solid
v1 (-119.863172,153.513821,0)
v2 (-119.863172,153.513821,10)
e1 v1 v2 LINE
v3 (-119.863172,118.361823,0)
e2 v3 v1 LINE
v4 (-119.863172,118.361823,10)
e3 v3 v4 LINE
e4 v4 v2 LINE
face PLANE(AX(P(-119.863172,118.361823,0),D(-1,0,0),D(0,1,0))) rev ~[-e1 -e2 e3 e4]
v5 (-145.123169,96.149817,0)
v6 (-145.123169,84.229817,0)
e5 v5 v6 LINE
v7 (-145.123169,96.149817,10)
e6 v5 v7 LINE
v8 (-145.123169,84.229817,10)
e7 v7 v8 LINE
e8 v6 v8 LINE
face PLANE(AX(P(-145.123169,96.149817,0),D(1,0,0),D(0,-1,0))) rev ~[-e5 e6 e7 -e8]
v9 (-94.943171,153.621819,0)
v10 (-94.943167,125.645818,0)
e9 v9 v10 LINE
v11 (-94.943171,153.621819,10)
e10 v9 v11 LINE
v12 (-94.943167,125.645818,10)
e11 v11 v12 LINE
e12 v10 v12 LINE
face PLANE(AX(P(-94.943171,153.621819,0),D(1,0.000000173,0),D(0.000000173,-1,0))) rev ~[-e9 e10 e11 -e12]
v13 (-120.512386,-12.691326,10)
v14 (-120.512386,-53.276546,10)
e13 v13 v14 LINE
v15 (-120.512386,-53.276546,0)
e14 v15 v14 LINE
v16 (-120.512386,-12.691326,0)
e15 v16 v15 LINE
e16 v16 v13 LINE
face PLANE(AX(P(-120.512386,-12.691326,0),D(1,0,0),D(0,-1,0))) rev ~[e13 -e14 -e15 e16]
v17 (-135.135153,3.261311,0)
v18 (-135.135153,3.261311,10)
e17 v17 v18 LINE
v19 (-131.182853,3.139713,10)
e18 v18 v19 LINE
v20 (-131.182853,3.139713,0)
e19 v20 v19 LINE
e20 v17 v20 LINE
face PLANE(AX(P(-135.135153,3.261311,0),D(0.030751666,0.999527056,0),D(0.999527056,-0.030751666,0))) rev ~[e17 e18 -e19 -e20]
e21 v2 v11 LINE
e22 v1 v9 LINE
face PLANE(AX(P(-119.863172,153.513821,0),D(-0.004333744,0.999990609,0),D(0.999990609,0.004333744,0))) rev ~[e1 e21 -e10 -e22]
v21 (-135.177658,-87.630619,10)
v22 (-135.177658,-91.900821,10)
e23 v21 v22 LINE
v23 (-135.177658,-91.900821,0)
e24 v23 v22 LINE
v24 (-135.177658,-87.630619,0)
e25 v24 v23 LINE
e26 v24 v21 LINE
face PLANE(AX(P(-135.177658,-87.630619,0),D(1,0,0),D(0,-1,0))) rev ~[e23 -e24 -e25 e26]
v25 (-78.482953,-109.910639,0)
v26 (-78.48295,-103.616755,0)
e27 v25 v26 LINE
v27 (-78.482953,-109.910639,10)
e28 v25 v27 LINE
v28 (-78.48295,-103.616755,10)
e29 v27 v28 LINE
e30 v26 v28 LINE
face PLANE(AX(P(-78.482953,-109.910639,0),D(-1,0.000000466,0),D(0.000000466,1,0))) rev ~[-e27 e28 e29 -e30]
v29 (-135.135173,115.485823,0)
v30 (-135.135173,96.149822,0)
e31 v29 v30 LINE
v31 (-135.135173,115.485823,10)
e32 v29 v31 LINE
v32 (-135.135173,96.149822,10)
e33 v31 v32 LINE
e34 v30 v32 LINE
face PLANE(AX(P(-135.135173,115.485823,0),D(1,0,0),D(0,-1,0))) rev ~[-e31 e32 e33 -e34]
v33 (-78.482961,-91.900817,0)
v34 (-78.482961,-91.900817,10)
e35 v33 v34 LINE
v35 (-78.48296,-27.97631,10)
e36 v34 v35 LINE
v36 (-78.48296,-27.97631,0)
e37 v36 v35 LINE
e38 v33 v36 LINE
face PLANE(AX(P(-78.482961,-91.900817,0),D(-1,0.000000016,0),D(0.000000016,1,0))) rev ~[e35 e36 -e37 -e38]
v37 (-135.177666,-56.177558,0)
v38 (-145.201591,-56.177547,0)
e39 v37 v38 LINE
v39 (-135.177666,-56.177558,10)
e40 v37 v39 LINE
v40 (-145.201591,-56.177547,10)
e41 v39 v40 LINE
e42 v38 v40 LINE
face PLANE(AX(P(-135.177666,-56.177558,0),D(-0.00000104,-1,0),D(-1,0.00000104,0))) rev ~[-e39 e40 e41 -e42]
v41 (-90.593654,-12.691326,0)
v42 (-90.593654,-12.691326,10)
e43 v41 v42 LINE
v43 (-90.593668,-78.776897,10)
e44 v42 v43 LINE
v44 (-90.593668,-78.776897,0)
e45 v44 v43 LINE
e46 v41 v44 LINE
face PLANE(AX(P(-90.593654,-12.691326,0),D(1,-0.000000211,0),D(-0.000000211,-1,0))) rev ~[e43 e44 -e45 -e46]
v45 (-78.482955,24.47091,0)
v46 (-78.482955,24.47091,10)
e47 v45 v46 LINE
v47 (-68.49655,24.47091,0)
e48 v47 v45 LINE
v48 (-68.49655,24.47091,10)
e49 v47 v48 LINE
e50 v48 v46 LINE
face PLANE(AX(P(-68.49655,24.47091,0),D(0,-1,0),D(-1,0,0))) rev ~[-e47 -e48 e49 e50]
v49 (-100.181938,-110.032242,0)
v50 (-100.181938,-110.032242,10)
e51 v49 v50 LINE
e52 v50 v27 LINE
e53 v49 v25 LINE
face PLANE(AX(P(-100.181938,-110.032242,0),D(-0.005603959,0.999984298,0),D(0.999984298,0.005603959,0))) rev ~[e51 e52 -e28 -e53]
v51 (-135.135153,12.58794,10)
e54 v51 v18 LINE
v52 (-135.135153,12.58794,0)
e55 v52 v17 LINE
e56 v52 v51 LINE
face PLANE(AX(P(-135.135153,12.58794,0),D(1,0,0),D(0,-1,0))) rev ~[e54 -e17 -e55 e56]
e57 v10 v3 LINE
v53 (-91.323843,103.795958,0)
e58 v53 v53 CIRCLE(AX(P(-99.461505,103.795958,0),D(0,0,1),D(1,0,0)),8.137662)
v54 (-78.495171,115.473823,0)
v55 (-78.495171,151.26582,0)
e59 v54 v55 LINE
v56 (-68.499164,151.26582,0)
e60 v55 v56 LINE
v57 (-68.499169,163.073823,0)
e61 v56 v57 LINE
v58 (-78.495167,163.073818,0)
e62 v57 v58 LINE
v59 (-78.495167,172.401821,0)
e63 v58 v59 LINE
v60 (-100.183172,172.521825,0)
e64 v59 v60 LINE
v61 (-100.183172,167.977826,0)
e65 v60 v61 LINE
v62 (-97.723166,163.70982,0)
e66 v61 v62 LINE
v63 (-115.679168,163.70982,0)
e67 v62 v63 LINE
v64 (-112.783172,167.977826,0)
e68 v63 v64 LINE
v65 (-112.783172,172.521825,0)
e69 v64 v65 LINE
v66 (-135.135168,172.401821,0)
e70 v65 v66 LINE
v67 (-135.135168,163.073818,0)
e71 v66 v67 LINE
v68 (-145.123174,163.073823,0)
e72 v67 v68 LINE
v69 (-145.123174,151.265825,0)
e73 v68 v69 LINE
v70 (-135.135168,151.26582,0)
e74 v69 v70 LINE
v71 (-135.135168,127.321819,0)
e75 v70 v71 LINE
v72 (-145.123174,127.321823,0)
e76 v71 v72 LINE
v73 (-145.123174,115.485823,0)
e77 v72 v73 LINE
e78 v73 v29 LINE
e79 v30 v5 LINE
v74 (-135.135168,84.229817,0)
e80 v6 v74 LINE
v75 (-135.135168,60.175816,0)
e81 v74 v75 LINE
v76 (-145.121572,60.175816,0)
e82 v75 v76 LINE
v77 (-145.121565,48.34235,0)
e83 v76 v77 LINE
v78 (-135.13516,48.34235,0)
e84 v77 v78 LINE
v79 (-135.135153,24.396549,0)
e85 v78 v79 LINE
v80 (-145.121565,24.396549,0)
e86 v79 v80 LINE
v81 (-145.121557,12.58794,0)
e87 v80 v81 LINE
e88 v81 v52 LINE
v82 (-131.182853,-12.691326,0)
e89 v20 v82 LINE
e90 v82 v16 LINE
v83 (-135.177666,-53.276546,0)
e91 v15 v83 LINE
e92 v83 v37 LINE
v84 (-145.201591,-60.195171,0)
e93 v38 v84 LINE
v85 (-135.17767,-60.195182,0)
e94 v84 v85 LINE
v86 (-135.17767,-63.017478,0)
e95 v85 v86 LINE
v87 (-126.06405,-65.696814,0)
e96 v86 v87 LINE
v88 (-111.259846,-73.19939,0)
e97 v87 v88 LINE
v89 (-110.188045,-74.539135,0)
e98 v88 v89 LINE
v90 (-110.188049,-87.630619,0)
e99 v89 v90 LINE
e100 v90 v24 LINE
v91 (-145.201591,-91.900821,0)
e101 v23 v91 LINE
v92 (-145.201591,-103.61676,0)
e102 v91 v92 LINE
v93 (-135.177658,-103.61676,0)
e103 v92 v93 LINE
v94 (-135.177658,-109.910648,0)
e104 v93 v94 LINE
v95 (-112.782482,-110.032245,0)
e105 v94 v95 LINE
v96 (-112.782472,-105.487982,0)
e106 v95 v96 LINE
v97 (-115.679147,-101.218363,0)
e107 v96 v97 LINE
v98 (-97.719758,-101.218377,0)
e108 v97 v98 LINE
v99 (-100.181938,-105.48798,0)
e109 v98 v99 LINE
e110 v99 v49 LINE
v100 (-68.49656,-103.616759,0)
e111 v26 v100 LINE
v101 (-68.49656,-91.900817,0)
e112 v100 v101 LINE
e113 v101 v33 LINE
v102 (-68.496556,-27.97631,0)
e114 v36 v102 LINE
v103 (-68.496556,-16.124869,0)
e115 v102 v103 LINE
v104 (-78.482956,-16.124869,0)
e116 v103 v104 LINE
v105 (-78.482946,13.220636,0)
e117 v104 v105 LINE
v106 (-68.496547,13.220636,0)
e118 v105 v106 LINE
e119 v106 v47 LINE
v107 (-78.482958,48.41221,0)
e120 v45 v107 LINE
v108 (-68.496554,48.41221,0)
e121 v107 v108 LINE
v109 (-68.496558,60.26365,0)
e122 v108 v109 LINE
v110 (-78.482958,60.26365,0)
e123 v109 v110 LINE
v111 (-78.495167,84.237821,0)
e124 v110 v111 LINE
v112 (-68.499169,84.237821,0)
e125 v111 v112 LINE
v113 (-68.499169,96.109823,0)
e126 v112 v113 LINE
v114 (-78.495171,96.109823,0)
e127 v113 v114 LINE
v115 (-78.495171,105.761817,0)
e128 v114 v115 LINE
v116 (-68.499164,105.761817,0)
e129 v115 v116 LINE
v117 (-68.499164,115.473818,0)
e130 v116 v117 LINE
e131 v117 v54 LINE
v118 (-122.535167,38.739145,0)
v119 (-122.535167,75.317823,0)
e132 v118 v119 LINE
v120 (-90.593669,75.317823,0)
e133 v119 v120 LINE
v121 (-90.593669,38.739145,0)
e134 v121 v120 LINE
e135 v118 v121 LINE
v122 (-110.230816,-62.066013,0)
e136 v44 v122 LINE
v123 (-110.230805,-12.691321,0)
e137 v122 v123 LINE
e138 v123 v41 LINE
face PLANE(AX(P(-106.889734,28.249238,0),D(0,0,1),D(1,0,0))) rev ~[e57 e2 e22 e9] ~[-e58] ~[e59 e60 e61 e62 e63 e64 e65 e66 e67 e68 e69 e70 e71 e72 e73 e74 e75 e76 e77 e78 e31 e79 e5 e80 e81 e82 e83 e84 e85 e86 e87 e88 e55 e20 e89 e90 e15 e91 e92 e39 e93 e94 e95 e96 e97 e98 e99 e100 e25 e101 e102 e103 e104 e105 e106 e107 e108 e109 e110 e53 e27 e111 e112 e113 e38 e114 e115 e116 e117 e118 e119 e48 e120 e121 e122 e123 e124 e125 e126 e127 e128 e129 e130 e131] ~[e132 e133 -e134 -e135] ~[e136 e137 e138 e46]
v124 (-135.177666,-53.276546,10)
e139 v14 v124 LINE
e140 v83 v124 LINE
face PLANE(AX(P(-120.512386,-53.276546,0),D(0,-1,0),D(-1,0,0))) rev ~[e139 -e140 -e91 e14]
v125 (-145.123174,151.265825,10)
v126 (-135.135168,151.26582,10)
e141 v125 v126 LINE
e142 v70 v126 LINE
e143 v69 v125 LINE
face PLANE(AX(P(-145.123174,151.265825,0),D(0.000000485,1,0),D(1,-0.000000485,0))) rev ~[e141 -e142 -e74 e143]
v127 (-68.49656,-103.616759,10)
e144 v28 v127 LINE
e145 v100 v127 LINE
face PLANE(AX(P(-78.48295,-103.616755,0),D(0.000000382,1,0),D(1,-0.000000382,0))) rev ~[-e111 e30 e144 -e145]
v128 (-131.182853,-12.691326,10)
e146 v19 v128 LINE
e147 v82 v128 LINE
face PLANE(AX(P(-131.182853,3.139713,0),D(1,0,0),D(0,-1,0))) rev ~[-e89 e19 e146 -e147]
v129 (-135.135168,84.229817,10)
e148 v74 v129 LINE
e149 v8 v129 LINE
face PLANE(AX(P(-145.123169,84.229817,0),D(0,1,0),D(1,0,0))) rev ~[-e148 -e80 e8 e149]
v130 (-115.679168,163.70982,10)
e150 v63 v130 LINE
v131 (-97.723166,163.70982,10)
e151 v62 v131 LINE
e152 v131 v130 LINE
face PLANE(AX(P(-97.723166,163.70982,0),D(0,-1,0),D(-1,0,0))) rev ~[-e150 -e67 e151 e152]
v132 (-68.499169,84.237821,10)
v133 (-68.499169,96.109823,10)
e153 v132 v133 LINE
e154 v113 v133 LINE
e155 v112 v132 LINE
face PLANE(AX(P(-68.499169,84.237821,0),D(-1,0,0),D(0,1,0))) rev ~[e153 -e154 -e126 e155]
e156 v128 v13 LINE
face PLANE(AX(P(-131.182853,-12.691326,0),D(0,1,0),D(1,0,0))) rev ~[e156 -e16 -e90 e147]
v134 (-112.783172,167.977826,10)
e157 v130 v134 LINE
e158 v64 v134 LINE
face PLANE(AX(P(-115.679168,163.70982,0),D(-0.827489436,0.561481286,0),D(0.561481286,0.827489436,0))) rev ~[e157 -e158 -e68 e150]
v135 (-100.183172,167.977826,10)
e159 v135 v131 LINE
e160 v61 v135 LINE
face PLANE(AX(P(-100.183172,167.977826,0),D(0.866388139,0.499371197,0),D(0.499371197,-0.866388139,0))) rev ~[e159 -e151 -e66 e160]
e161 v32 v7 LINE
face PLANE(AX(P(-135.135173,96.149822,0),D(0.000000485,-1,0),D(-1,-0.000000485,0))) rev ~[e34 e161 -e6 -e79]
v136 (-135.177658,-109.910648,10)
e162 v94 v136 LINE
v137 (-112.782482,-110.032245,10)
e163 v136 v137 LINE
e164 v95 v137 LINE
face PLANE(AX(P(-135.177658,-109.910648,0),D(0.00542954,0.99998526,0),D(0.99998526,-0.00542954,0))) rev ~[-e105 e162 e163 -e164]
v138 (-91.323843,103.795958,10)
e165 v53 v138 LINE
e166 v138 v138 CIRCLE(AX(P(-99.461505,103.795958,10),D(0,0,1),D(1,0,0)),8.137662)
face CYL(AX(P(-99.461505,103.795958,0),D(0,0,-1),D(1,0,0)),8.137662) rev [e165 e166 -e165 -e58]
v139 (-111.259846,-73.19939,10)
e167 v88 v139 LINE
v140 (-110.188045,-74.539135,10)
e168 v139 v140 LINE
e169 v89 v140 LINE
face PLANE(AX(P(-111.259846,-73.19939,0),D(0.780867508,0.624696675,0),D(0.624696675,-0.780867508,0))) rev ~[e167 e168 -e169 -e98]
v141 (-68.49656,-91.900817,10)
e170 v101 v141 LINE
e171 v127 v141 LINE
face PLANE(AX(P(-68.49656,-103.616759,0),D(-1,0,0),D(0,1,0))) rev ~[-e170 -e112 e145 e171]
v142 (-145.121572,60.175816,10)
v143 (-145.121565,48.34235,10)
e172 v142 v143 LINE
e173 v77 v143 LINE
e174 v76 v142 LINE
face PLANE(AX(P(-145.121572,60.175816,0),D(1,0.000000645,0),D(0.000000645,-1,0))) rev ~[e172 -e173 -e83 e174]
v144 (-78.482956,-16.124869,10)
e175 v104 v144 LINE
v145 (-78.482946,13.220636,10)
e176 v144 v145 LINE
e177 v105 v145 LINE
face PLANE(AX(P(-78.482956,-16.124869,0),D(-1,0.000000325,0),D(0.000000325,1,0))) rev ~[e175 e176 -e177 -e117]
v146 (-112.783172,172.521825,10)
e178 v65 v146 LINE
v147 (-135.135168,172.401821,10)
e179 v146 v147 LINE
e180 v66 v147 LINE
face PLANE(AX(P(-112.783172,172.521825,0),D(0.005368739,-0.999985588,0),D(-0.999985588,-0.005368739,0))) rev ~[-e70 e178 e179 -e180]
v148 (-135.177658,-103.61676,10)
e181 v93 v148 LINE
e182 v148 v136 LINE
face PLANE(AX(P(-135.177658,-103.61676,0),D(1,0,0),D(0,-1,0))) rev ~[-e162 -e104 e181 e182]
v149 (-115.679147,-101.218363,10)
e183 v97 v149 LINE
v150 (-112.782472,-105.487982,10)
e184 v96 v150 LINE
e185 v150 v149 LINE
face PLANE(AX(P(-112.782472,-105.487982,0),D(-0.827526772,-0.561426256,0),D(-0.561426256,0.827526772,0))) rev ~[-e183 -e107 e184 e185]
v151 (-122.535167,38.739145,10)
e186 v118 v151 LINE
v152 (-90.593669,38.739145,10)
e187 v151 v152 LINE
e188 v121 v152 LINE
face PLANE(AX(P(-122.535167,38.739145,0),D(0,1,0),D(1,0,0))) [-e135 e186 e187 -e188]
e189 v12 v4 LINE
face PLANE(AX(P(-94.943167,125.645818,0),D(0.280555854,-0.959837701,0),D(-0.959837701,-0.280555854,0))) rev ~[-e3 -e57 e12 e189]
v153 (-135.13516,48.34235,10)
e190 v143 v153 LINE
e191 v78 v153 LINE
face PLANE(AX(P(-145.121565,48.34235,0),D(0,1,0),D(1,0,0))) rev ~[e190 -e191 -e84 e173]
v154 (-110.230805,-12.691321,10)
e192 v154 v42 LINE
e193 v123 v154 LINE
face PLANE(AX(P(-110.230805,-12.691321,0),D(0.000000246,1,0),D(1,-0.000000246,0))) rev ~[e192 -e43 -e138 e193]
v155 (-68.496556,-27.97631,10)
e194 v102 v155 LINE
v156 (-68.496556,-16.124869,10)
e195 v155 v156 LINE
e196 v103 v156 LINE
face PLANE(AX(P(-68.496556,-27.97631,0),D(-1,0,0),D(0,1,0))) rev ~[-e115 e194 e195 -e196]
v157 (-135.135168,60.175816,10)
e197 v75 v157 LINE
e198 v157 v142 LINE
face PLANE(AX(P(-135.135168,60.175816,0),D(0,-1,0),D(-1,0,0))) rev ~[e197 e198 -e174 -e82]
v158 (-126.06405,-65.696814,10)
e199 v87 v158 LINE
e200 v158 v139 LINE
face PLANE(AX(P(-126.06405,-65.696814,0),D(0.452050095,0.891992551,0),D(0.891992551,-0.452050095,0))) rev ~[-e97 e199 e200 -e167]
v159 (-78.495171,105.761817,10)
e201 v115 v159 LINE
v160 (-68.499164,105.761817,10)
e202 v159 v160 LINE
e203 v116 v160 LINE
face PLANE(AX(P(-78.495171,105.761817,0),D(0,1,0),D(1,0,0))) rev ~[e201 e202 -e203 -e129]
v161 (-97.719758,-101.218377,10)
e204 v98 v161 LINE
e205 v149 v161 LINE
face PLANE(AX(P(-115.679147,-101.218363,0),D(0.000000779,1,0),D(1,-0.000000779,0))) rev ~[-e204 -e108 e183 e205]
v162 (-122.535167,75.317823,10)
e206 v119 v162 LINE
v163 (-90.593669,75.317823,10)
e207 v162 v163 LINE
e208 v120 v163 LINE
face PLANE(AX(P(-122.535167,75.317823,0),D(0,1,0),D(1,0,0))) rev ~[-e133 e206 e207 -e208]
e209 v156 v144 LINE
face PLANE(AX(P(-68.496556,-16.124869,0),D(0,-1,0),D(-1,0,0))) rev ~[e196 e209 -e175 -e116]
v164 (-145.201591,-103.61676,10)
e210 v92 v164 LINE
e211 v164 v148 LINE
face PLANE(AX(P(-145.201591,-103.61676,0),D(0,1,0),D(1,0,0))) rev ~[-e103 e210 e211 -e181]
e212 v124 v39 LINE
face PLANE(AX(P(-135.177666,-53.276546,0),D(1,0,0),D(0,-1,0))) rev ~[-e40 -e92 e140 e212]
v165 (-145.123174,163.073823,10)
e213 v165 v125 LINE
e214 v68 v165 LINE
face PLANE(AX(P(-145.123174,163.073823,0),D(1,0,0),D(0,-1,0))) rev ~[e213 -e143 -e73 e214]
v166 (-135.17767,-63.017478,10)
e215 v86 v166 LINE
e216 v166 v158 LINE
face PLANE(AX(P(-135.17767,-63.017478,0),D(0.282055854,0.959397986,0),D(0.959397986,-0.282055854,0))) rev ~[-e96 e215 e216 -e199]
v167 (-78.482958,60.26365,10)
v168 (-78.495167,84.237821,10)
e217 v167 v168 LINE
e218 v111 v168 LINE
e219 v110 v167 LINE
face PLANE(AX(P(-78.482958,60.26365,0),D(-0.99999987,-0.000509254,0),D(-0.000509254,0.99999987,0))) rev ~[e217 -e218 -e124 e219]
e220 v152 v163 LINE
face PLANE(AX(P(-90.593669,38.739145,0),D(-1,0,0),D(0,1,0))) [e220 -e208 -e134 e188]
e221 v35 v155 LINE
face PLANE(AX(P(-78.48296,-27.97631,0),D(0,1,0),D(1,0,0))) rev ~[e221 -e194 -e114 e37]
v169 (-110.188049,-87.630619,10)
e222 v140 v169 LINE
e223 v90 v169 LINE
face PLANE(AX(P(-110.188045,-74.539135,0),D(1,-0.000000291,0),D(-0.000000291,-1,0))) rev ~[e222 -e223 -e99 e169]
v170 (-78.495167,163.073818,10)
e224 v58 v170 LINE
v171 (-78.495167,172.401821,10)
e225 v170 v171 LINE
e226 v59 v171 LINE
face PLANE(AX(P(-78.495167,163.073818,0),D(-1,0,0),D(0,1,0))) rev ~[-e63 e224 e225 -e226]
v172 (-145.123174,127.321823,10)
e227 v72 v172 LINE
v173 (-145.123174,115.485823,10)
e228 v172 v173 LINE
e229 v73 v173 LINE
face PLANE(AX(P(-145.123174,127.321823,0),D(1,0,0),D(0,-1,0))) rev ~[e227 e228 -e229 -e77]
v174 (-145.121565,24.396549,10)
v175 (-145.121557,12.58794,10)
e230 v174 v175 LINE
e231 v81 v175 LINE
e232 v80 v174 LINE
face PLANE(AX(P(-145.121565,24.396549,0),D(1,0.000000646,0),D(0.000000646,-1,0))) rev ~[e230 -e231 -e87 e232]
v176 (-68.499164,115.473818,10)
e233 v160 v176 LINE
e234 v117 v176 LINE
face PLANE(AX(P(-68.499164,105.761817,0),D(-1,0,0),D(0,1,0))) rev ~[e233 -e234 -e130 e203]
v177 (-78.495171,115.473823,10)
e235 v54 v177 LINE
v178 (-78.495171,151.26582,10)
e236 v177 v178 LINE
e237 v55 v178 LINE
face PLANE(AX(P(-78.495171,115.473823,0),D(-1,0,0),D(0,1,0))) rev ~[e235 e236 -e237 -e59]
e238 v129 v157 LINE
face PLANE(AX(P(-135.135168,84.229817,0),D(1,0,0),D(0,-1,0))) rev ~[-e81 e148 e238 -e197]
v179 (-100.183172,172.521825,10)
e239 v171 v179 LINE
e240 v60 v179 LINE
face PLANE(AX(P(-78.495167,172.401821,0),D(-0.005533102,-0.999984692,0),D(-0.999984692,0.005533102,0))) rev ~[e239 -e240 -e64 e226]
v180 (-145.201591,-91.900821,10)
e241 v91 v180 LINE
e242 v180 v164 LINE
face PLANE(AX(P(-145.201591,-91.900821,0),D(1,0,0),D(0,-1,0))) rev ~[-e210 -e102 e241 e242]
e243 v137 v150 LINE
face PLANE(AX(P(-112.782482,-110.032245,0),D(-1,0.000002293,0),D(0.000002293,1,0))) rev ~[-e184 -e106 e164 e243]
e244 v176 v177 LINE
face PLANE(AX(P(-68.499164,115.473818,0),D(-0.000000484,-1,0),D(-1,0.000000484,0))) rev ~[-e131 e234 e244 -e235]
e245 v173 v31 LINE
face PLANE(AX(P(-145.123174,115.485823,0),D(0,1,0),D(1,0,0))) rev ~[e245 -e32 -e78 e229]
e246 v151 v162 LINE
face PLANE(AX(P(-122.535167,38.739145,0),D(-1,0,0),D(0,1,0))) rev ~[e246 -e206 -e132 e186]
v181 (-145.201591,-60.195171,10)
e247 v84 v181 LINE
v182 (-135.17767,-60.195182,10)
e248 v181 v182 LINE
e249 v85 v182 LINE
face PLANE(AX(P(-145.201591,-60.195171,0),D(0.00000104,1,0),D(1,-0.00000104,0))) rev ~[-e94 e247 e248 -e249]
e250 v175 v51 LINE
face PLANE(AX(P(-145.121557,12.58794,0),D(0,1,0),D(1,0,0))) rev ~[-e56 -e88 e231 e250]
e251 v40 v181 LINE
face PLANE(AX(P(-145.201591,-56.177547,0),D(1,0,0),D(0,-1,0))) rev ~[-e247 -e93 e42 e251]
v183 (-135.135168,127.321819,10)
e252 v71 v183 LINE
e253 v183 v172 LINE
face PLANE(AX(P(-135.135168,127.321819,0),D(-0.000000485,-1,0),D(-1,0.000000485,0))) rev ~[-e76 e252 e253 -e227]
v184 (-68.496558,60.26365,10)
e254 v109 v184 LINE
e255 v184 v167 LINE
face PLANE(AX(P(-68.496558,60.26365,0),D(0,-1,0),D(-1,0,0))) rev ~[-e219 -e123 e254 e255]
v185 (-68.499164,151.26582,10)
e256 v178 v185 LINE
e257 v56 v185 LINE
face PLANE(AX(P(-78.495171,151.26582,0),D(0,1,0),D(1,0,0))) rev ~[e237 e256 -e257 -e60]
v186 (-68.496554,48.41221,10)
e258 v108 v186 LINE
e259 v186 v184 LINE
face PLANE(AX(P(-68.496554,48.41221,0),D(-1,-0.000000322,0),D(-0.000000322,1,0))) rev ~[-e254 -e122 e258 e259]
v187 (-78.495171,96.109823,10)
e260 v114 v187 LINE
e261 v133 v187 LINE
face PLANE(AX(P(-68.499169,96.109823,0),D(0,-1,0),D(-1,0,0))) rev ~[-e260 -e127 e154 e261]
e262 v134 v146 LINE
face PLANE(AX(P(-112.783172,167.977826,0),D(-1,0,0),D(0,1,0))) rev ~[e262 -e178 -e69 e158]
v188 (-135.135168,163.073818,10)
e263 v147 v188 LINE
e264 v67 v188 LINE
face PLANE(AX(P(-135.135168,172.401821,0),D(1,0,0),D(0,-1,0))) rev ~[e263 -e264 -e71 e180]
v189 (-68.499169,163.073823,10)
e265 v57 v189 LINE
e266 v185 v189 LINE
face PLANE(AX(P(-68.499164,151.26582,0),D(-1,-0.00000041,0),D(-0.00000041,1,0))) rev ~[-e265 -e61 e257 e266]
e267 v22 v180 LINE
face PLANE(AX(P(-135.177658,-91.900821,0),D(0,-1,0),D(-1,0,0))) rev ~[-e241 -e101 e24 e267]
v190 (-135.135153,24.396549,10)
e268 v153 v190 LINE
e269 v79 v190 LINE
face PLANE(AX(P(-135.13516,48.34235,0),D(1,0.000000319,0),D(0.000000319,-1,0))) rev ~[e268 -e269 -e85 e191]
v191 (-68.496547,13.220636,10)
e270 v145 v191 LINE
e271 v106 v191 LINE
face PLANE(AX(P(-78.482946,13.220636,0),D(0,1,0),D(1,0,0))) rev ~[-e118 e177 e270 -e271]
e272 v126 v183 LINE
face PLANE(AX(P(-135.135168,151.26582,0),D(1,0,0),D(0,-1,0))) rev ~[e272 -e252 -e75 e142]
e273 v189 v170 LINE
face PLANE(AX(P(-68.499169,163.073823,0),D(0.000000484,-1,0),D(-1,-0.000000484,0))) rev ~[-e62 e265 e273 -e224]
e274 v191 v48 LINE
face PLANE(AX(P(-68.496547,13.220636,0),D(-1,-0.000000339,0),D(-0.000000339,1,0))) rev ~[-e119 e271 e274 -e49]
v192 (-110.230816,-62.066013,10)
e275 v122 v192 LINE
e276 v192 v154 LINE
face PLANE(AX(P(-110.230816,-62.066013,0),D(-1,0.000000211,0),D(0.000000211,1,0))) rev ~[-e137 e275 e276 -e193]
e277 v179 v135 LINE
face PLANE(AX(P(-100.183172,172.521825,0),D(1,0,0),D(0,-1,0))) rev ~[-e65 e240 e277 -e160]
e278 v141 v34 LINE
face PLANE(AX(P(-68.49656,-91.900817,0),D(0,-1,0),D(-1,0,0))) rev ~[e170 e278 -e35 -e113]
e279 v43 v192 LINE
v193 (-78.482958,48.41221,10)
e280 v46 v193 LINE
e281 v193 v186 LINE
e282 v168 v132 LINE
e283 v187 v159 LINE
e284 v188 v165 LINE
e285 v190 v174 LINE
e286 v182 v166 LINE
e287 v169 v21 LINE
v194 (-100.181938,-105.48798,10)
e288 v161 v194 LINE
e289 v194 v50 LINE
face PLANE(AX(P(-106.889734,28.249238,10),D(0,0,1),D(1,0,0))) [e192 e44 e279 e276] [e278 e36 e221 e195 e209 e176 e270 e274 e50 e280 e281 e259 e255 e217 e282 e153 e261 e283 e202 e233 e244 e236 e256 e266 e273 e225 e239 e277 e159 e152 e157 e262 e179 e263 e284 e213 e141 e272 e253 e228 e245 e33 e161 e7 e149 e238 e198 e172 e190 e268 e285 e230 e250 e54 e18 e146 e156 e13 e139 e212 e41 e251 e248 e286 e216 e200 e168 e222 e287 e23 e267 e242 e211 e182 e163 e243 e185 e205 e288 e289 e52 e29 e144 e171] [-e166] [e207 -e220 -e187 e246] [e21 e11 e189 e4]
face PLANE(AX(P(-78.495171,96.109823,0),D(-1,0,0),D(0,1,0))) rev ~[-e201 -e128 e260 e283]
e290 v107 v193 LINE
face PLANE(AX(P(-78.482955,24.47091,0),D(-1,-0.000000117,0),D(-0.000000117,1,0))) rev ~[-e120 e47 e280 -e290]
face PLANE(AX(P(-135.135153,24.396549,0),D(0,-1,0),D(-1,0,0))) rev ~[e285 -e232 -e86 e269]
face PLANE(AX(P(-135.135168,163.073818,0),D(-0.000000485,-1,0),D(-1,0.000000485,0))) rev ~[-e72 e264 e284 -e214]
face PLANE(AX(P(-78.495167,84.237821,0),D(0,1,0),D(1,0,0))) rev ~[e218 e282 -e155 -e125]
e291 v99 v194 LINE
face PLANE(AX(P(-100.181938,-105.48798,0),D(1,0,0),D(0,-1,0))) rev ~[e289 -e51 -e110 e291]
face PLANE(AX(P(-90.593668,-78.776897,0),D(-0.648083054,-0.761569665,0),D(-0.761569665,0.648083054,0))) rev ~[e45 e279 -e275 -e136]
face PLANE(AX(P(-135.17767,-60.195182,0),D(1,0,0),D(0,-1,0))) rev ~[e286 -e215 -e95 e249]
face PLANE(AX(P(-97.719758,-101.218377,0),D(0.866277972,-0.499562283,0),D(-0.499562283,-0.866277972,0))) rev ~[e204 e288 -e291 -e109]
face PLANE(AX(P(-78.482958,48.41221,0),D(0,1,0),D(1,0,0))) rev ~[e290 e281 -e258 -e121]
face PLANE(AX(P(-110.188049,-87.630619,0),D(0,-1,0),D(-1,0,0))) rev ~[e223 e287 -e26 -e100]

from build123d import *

# Parameters (mm, degrees)
SKETCH_4_R      = 8.137661996
SKETCH_4_W      = 31.9414987
SKETCH_4_H      = 36.578678147
EXTRUDE_1_DEPTH = 10


with BuildPart() as part:
    # 草图4 → 凸台-拉伸1 (new body)
    with BuildSketch(Plane.XY):
        Polygon((-115.679167542, 163.709819989), (-112.783171997, 167.977826386), (-112.783171997, 172.521825104), (-135.13516787, 172.401821332), (-135.13516787, 163.073818402), (-145.12317358, 163.073823243), (-145.12317358, 151.265824585), (-135.13516787, 151.265819745), (-135.13516787, 127.321818547), (-145.12317358, 127.321823388), (-145.12317358, 115.485822707), (-135.13517271, 115.485822707), (-135.13517271, 96.149821549), (-145.123168739, 96.149816708), (-145.123168739, 84.229816632), (-135.13516787, 84.229816632), (-135.13516787, 60.175815779), (-145.121572289, 60.175815779), (-145.121564659, 48.342350203), (-135.13516024, 48.342350203), (-135.135152611, 24.396549422), (-145.121564659, 24.396549422), (-145.12155703, 12.587940413), (-135.135152611, 12.587940413), (-135.135152611, 3.261310774), (-131.182853493, 3.139713484), (-131.182853493, -12.691325945), (-120.512386116, -12.691325945), (-120.512386116, -53.276546281), (-135.177665504, -53.276546281), (-135.177665504, -56.177557678), (-145.201591286, -56.177547258), (-145.201591286, -60.195171159), (-135.177670343, -60.195181579), (-135.177670343, -63.017477722), (-126.064049585, -65.69681427), (-111.259845528, -73.199390215), (-110.188045296, -74.539134782), (-110.18804911, -87.630618852), (-135.177657875, -87.630618852), (-135.177657875, -91.900821489), (-145.201591286, -91.900821489), (-145.201591286, -103.616760057), (-135.177657875, -103.616760057), (-135.177657875, -109.910648149), (-112.782481941, -110.032245439), (-112.782471521, -105.487982482), (-115.679146631, -101.218363494), (-97.719758046, -101.218377487), (-100.181937965, -105.487979692), (-100.181937965, -110.032241624), (-78.482952936, -109.910639495), (-78.482950005, -103.616755218), (-68.496559961, -103.616759033), (-68.496559961, -91.90081665), (-78.482960566, -91.90081665), (-78.482959541, -27.976309509), (-68.496556147, -27.976309509), (-68.496556147, -16.124869079), (-78.482955727, -16.124869079), (-78.48294619, 13.220635682), (-68.49654661, 13.220635682), (-68.496550425, 24.47091034), (-78.482954844, 24.47091034), (-78.482957634, 48.412209778), (-68.496554239, 48.412209778), (-68.496558054, 60.263650208), (-78.482957634, 60.263650208), (-78.495166571, 84.237820893), (-68.499169214, 84.237820893), (-68.499169214, 96.109822541), (-78.495171412, 96.109822541), (-78.495171412, 105.761817174), (-68.499164374, 105.761817174), (-68.499164374, 115.473818021), (-78.495171412, 115.473822861), (-78.495171412, 151.265819745), (-68.499164374, 151.265819745), (-68.499169214, 163.073823243), (-78.495166573, 163.073818402), (-78.495166573, 172.401821332), (-100.183171615, 172.521825104), (-100.183171615, 167.977826386), (-97.72316626, 163.709819989), align=None)
        with Locations((-99.461505196, 103.795957581)):
            Circle(SKETCH_4_R, mode=Mode.SUBTRACT)
        Polygon((-110.230805262, -12.691321106), (-90.593654427, -12.691325945), (-90.593668373, -78.776897231), (-110.230815681, -62.066013139), align=None, mode=Mode.SUBTRACT)
        with Locations((-106.564418137, 57.028483651)):
            Rectangle(SKETCH_4_W, SKETCH_4_H, mode=Mode.SUBTRACT)
        Polygon((-119.863172396, 153.513820843), (-94.943171363, 153.621818753), (-94.943166525, 125.645818429), (-119.863172396, 118.361822902), align=None, mode=Mode.SUBTRACT)
    extrude(amount=EXTRUDE_1_DEPTH)


solid = part.part
